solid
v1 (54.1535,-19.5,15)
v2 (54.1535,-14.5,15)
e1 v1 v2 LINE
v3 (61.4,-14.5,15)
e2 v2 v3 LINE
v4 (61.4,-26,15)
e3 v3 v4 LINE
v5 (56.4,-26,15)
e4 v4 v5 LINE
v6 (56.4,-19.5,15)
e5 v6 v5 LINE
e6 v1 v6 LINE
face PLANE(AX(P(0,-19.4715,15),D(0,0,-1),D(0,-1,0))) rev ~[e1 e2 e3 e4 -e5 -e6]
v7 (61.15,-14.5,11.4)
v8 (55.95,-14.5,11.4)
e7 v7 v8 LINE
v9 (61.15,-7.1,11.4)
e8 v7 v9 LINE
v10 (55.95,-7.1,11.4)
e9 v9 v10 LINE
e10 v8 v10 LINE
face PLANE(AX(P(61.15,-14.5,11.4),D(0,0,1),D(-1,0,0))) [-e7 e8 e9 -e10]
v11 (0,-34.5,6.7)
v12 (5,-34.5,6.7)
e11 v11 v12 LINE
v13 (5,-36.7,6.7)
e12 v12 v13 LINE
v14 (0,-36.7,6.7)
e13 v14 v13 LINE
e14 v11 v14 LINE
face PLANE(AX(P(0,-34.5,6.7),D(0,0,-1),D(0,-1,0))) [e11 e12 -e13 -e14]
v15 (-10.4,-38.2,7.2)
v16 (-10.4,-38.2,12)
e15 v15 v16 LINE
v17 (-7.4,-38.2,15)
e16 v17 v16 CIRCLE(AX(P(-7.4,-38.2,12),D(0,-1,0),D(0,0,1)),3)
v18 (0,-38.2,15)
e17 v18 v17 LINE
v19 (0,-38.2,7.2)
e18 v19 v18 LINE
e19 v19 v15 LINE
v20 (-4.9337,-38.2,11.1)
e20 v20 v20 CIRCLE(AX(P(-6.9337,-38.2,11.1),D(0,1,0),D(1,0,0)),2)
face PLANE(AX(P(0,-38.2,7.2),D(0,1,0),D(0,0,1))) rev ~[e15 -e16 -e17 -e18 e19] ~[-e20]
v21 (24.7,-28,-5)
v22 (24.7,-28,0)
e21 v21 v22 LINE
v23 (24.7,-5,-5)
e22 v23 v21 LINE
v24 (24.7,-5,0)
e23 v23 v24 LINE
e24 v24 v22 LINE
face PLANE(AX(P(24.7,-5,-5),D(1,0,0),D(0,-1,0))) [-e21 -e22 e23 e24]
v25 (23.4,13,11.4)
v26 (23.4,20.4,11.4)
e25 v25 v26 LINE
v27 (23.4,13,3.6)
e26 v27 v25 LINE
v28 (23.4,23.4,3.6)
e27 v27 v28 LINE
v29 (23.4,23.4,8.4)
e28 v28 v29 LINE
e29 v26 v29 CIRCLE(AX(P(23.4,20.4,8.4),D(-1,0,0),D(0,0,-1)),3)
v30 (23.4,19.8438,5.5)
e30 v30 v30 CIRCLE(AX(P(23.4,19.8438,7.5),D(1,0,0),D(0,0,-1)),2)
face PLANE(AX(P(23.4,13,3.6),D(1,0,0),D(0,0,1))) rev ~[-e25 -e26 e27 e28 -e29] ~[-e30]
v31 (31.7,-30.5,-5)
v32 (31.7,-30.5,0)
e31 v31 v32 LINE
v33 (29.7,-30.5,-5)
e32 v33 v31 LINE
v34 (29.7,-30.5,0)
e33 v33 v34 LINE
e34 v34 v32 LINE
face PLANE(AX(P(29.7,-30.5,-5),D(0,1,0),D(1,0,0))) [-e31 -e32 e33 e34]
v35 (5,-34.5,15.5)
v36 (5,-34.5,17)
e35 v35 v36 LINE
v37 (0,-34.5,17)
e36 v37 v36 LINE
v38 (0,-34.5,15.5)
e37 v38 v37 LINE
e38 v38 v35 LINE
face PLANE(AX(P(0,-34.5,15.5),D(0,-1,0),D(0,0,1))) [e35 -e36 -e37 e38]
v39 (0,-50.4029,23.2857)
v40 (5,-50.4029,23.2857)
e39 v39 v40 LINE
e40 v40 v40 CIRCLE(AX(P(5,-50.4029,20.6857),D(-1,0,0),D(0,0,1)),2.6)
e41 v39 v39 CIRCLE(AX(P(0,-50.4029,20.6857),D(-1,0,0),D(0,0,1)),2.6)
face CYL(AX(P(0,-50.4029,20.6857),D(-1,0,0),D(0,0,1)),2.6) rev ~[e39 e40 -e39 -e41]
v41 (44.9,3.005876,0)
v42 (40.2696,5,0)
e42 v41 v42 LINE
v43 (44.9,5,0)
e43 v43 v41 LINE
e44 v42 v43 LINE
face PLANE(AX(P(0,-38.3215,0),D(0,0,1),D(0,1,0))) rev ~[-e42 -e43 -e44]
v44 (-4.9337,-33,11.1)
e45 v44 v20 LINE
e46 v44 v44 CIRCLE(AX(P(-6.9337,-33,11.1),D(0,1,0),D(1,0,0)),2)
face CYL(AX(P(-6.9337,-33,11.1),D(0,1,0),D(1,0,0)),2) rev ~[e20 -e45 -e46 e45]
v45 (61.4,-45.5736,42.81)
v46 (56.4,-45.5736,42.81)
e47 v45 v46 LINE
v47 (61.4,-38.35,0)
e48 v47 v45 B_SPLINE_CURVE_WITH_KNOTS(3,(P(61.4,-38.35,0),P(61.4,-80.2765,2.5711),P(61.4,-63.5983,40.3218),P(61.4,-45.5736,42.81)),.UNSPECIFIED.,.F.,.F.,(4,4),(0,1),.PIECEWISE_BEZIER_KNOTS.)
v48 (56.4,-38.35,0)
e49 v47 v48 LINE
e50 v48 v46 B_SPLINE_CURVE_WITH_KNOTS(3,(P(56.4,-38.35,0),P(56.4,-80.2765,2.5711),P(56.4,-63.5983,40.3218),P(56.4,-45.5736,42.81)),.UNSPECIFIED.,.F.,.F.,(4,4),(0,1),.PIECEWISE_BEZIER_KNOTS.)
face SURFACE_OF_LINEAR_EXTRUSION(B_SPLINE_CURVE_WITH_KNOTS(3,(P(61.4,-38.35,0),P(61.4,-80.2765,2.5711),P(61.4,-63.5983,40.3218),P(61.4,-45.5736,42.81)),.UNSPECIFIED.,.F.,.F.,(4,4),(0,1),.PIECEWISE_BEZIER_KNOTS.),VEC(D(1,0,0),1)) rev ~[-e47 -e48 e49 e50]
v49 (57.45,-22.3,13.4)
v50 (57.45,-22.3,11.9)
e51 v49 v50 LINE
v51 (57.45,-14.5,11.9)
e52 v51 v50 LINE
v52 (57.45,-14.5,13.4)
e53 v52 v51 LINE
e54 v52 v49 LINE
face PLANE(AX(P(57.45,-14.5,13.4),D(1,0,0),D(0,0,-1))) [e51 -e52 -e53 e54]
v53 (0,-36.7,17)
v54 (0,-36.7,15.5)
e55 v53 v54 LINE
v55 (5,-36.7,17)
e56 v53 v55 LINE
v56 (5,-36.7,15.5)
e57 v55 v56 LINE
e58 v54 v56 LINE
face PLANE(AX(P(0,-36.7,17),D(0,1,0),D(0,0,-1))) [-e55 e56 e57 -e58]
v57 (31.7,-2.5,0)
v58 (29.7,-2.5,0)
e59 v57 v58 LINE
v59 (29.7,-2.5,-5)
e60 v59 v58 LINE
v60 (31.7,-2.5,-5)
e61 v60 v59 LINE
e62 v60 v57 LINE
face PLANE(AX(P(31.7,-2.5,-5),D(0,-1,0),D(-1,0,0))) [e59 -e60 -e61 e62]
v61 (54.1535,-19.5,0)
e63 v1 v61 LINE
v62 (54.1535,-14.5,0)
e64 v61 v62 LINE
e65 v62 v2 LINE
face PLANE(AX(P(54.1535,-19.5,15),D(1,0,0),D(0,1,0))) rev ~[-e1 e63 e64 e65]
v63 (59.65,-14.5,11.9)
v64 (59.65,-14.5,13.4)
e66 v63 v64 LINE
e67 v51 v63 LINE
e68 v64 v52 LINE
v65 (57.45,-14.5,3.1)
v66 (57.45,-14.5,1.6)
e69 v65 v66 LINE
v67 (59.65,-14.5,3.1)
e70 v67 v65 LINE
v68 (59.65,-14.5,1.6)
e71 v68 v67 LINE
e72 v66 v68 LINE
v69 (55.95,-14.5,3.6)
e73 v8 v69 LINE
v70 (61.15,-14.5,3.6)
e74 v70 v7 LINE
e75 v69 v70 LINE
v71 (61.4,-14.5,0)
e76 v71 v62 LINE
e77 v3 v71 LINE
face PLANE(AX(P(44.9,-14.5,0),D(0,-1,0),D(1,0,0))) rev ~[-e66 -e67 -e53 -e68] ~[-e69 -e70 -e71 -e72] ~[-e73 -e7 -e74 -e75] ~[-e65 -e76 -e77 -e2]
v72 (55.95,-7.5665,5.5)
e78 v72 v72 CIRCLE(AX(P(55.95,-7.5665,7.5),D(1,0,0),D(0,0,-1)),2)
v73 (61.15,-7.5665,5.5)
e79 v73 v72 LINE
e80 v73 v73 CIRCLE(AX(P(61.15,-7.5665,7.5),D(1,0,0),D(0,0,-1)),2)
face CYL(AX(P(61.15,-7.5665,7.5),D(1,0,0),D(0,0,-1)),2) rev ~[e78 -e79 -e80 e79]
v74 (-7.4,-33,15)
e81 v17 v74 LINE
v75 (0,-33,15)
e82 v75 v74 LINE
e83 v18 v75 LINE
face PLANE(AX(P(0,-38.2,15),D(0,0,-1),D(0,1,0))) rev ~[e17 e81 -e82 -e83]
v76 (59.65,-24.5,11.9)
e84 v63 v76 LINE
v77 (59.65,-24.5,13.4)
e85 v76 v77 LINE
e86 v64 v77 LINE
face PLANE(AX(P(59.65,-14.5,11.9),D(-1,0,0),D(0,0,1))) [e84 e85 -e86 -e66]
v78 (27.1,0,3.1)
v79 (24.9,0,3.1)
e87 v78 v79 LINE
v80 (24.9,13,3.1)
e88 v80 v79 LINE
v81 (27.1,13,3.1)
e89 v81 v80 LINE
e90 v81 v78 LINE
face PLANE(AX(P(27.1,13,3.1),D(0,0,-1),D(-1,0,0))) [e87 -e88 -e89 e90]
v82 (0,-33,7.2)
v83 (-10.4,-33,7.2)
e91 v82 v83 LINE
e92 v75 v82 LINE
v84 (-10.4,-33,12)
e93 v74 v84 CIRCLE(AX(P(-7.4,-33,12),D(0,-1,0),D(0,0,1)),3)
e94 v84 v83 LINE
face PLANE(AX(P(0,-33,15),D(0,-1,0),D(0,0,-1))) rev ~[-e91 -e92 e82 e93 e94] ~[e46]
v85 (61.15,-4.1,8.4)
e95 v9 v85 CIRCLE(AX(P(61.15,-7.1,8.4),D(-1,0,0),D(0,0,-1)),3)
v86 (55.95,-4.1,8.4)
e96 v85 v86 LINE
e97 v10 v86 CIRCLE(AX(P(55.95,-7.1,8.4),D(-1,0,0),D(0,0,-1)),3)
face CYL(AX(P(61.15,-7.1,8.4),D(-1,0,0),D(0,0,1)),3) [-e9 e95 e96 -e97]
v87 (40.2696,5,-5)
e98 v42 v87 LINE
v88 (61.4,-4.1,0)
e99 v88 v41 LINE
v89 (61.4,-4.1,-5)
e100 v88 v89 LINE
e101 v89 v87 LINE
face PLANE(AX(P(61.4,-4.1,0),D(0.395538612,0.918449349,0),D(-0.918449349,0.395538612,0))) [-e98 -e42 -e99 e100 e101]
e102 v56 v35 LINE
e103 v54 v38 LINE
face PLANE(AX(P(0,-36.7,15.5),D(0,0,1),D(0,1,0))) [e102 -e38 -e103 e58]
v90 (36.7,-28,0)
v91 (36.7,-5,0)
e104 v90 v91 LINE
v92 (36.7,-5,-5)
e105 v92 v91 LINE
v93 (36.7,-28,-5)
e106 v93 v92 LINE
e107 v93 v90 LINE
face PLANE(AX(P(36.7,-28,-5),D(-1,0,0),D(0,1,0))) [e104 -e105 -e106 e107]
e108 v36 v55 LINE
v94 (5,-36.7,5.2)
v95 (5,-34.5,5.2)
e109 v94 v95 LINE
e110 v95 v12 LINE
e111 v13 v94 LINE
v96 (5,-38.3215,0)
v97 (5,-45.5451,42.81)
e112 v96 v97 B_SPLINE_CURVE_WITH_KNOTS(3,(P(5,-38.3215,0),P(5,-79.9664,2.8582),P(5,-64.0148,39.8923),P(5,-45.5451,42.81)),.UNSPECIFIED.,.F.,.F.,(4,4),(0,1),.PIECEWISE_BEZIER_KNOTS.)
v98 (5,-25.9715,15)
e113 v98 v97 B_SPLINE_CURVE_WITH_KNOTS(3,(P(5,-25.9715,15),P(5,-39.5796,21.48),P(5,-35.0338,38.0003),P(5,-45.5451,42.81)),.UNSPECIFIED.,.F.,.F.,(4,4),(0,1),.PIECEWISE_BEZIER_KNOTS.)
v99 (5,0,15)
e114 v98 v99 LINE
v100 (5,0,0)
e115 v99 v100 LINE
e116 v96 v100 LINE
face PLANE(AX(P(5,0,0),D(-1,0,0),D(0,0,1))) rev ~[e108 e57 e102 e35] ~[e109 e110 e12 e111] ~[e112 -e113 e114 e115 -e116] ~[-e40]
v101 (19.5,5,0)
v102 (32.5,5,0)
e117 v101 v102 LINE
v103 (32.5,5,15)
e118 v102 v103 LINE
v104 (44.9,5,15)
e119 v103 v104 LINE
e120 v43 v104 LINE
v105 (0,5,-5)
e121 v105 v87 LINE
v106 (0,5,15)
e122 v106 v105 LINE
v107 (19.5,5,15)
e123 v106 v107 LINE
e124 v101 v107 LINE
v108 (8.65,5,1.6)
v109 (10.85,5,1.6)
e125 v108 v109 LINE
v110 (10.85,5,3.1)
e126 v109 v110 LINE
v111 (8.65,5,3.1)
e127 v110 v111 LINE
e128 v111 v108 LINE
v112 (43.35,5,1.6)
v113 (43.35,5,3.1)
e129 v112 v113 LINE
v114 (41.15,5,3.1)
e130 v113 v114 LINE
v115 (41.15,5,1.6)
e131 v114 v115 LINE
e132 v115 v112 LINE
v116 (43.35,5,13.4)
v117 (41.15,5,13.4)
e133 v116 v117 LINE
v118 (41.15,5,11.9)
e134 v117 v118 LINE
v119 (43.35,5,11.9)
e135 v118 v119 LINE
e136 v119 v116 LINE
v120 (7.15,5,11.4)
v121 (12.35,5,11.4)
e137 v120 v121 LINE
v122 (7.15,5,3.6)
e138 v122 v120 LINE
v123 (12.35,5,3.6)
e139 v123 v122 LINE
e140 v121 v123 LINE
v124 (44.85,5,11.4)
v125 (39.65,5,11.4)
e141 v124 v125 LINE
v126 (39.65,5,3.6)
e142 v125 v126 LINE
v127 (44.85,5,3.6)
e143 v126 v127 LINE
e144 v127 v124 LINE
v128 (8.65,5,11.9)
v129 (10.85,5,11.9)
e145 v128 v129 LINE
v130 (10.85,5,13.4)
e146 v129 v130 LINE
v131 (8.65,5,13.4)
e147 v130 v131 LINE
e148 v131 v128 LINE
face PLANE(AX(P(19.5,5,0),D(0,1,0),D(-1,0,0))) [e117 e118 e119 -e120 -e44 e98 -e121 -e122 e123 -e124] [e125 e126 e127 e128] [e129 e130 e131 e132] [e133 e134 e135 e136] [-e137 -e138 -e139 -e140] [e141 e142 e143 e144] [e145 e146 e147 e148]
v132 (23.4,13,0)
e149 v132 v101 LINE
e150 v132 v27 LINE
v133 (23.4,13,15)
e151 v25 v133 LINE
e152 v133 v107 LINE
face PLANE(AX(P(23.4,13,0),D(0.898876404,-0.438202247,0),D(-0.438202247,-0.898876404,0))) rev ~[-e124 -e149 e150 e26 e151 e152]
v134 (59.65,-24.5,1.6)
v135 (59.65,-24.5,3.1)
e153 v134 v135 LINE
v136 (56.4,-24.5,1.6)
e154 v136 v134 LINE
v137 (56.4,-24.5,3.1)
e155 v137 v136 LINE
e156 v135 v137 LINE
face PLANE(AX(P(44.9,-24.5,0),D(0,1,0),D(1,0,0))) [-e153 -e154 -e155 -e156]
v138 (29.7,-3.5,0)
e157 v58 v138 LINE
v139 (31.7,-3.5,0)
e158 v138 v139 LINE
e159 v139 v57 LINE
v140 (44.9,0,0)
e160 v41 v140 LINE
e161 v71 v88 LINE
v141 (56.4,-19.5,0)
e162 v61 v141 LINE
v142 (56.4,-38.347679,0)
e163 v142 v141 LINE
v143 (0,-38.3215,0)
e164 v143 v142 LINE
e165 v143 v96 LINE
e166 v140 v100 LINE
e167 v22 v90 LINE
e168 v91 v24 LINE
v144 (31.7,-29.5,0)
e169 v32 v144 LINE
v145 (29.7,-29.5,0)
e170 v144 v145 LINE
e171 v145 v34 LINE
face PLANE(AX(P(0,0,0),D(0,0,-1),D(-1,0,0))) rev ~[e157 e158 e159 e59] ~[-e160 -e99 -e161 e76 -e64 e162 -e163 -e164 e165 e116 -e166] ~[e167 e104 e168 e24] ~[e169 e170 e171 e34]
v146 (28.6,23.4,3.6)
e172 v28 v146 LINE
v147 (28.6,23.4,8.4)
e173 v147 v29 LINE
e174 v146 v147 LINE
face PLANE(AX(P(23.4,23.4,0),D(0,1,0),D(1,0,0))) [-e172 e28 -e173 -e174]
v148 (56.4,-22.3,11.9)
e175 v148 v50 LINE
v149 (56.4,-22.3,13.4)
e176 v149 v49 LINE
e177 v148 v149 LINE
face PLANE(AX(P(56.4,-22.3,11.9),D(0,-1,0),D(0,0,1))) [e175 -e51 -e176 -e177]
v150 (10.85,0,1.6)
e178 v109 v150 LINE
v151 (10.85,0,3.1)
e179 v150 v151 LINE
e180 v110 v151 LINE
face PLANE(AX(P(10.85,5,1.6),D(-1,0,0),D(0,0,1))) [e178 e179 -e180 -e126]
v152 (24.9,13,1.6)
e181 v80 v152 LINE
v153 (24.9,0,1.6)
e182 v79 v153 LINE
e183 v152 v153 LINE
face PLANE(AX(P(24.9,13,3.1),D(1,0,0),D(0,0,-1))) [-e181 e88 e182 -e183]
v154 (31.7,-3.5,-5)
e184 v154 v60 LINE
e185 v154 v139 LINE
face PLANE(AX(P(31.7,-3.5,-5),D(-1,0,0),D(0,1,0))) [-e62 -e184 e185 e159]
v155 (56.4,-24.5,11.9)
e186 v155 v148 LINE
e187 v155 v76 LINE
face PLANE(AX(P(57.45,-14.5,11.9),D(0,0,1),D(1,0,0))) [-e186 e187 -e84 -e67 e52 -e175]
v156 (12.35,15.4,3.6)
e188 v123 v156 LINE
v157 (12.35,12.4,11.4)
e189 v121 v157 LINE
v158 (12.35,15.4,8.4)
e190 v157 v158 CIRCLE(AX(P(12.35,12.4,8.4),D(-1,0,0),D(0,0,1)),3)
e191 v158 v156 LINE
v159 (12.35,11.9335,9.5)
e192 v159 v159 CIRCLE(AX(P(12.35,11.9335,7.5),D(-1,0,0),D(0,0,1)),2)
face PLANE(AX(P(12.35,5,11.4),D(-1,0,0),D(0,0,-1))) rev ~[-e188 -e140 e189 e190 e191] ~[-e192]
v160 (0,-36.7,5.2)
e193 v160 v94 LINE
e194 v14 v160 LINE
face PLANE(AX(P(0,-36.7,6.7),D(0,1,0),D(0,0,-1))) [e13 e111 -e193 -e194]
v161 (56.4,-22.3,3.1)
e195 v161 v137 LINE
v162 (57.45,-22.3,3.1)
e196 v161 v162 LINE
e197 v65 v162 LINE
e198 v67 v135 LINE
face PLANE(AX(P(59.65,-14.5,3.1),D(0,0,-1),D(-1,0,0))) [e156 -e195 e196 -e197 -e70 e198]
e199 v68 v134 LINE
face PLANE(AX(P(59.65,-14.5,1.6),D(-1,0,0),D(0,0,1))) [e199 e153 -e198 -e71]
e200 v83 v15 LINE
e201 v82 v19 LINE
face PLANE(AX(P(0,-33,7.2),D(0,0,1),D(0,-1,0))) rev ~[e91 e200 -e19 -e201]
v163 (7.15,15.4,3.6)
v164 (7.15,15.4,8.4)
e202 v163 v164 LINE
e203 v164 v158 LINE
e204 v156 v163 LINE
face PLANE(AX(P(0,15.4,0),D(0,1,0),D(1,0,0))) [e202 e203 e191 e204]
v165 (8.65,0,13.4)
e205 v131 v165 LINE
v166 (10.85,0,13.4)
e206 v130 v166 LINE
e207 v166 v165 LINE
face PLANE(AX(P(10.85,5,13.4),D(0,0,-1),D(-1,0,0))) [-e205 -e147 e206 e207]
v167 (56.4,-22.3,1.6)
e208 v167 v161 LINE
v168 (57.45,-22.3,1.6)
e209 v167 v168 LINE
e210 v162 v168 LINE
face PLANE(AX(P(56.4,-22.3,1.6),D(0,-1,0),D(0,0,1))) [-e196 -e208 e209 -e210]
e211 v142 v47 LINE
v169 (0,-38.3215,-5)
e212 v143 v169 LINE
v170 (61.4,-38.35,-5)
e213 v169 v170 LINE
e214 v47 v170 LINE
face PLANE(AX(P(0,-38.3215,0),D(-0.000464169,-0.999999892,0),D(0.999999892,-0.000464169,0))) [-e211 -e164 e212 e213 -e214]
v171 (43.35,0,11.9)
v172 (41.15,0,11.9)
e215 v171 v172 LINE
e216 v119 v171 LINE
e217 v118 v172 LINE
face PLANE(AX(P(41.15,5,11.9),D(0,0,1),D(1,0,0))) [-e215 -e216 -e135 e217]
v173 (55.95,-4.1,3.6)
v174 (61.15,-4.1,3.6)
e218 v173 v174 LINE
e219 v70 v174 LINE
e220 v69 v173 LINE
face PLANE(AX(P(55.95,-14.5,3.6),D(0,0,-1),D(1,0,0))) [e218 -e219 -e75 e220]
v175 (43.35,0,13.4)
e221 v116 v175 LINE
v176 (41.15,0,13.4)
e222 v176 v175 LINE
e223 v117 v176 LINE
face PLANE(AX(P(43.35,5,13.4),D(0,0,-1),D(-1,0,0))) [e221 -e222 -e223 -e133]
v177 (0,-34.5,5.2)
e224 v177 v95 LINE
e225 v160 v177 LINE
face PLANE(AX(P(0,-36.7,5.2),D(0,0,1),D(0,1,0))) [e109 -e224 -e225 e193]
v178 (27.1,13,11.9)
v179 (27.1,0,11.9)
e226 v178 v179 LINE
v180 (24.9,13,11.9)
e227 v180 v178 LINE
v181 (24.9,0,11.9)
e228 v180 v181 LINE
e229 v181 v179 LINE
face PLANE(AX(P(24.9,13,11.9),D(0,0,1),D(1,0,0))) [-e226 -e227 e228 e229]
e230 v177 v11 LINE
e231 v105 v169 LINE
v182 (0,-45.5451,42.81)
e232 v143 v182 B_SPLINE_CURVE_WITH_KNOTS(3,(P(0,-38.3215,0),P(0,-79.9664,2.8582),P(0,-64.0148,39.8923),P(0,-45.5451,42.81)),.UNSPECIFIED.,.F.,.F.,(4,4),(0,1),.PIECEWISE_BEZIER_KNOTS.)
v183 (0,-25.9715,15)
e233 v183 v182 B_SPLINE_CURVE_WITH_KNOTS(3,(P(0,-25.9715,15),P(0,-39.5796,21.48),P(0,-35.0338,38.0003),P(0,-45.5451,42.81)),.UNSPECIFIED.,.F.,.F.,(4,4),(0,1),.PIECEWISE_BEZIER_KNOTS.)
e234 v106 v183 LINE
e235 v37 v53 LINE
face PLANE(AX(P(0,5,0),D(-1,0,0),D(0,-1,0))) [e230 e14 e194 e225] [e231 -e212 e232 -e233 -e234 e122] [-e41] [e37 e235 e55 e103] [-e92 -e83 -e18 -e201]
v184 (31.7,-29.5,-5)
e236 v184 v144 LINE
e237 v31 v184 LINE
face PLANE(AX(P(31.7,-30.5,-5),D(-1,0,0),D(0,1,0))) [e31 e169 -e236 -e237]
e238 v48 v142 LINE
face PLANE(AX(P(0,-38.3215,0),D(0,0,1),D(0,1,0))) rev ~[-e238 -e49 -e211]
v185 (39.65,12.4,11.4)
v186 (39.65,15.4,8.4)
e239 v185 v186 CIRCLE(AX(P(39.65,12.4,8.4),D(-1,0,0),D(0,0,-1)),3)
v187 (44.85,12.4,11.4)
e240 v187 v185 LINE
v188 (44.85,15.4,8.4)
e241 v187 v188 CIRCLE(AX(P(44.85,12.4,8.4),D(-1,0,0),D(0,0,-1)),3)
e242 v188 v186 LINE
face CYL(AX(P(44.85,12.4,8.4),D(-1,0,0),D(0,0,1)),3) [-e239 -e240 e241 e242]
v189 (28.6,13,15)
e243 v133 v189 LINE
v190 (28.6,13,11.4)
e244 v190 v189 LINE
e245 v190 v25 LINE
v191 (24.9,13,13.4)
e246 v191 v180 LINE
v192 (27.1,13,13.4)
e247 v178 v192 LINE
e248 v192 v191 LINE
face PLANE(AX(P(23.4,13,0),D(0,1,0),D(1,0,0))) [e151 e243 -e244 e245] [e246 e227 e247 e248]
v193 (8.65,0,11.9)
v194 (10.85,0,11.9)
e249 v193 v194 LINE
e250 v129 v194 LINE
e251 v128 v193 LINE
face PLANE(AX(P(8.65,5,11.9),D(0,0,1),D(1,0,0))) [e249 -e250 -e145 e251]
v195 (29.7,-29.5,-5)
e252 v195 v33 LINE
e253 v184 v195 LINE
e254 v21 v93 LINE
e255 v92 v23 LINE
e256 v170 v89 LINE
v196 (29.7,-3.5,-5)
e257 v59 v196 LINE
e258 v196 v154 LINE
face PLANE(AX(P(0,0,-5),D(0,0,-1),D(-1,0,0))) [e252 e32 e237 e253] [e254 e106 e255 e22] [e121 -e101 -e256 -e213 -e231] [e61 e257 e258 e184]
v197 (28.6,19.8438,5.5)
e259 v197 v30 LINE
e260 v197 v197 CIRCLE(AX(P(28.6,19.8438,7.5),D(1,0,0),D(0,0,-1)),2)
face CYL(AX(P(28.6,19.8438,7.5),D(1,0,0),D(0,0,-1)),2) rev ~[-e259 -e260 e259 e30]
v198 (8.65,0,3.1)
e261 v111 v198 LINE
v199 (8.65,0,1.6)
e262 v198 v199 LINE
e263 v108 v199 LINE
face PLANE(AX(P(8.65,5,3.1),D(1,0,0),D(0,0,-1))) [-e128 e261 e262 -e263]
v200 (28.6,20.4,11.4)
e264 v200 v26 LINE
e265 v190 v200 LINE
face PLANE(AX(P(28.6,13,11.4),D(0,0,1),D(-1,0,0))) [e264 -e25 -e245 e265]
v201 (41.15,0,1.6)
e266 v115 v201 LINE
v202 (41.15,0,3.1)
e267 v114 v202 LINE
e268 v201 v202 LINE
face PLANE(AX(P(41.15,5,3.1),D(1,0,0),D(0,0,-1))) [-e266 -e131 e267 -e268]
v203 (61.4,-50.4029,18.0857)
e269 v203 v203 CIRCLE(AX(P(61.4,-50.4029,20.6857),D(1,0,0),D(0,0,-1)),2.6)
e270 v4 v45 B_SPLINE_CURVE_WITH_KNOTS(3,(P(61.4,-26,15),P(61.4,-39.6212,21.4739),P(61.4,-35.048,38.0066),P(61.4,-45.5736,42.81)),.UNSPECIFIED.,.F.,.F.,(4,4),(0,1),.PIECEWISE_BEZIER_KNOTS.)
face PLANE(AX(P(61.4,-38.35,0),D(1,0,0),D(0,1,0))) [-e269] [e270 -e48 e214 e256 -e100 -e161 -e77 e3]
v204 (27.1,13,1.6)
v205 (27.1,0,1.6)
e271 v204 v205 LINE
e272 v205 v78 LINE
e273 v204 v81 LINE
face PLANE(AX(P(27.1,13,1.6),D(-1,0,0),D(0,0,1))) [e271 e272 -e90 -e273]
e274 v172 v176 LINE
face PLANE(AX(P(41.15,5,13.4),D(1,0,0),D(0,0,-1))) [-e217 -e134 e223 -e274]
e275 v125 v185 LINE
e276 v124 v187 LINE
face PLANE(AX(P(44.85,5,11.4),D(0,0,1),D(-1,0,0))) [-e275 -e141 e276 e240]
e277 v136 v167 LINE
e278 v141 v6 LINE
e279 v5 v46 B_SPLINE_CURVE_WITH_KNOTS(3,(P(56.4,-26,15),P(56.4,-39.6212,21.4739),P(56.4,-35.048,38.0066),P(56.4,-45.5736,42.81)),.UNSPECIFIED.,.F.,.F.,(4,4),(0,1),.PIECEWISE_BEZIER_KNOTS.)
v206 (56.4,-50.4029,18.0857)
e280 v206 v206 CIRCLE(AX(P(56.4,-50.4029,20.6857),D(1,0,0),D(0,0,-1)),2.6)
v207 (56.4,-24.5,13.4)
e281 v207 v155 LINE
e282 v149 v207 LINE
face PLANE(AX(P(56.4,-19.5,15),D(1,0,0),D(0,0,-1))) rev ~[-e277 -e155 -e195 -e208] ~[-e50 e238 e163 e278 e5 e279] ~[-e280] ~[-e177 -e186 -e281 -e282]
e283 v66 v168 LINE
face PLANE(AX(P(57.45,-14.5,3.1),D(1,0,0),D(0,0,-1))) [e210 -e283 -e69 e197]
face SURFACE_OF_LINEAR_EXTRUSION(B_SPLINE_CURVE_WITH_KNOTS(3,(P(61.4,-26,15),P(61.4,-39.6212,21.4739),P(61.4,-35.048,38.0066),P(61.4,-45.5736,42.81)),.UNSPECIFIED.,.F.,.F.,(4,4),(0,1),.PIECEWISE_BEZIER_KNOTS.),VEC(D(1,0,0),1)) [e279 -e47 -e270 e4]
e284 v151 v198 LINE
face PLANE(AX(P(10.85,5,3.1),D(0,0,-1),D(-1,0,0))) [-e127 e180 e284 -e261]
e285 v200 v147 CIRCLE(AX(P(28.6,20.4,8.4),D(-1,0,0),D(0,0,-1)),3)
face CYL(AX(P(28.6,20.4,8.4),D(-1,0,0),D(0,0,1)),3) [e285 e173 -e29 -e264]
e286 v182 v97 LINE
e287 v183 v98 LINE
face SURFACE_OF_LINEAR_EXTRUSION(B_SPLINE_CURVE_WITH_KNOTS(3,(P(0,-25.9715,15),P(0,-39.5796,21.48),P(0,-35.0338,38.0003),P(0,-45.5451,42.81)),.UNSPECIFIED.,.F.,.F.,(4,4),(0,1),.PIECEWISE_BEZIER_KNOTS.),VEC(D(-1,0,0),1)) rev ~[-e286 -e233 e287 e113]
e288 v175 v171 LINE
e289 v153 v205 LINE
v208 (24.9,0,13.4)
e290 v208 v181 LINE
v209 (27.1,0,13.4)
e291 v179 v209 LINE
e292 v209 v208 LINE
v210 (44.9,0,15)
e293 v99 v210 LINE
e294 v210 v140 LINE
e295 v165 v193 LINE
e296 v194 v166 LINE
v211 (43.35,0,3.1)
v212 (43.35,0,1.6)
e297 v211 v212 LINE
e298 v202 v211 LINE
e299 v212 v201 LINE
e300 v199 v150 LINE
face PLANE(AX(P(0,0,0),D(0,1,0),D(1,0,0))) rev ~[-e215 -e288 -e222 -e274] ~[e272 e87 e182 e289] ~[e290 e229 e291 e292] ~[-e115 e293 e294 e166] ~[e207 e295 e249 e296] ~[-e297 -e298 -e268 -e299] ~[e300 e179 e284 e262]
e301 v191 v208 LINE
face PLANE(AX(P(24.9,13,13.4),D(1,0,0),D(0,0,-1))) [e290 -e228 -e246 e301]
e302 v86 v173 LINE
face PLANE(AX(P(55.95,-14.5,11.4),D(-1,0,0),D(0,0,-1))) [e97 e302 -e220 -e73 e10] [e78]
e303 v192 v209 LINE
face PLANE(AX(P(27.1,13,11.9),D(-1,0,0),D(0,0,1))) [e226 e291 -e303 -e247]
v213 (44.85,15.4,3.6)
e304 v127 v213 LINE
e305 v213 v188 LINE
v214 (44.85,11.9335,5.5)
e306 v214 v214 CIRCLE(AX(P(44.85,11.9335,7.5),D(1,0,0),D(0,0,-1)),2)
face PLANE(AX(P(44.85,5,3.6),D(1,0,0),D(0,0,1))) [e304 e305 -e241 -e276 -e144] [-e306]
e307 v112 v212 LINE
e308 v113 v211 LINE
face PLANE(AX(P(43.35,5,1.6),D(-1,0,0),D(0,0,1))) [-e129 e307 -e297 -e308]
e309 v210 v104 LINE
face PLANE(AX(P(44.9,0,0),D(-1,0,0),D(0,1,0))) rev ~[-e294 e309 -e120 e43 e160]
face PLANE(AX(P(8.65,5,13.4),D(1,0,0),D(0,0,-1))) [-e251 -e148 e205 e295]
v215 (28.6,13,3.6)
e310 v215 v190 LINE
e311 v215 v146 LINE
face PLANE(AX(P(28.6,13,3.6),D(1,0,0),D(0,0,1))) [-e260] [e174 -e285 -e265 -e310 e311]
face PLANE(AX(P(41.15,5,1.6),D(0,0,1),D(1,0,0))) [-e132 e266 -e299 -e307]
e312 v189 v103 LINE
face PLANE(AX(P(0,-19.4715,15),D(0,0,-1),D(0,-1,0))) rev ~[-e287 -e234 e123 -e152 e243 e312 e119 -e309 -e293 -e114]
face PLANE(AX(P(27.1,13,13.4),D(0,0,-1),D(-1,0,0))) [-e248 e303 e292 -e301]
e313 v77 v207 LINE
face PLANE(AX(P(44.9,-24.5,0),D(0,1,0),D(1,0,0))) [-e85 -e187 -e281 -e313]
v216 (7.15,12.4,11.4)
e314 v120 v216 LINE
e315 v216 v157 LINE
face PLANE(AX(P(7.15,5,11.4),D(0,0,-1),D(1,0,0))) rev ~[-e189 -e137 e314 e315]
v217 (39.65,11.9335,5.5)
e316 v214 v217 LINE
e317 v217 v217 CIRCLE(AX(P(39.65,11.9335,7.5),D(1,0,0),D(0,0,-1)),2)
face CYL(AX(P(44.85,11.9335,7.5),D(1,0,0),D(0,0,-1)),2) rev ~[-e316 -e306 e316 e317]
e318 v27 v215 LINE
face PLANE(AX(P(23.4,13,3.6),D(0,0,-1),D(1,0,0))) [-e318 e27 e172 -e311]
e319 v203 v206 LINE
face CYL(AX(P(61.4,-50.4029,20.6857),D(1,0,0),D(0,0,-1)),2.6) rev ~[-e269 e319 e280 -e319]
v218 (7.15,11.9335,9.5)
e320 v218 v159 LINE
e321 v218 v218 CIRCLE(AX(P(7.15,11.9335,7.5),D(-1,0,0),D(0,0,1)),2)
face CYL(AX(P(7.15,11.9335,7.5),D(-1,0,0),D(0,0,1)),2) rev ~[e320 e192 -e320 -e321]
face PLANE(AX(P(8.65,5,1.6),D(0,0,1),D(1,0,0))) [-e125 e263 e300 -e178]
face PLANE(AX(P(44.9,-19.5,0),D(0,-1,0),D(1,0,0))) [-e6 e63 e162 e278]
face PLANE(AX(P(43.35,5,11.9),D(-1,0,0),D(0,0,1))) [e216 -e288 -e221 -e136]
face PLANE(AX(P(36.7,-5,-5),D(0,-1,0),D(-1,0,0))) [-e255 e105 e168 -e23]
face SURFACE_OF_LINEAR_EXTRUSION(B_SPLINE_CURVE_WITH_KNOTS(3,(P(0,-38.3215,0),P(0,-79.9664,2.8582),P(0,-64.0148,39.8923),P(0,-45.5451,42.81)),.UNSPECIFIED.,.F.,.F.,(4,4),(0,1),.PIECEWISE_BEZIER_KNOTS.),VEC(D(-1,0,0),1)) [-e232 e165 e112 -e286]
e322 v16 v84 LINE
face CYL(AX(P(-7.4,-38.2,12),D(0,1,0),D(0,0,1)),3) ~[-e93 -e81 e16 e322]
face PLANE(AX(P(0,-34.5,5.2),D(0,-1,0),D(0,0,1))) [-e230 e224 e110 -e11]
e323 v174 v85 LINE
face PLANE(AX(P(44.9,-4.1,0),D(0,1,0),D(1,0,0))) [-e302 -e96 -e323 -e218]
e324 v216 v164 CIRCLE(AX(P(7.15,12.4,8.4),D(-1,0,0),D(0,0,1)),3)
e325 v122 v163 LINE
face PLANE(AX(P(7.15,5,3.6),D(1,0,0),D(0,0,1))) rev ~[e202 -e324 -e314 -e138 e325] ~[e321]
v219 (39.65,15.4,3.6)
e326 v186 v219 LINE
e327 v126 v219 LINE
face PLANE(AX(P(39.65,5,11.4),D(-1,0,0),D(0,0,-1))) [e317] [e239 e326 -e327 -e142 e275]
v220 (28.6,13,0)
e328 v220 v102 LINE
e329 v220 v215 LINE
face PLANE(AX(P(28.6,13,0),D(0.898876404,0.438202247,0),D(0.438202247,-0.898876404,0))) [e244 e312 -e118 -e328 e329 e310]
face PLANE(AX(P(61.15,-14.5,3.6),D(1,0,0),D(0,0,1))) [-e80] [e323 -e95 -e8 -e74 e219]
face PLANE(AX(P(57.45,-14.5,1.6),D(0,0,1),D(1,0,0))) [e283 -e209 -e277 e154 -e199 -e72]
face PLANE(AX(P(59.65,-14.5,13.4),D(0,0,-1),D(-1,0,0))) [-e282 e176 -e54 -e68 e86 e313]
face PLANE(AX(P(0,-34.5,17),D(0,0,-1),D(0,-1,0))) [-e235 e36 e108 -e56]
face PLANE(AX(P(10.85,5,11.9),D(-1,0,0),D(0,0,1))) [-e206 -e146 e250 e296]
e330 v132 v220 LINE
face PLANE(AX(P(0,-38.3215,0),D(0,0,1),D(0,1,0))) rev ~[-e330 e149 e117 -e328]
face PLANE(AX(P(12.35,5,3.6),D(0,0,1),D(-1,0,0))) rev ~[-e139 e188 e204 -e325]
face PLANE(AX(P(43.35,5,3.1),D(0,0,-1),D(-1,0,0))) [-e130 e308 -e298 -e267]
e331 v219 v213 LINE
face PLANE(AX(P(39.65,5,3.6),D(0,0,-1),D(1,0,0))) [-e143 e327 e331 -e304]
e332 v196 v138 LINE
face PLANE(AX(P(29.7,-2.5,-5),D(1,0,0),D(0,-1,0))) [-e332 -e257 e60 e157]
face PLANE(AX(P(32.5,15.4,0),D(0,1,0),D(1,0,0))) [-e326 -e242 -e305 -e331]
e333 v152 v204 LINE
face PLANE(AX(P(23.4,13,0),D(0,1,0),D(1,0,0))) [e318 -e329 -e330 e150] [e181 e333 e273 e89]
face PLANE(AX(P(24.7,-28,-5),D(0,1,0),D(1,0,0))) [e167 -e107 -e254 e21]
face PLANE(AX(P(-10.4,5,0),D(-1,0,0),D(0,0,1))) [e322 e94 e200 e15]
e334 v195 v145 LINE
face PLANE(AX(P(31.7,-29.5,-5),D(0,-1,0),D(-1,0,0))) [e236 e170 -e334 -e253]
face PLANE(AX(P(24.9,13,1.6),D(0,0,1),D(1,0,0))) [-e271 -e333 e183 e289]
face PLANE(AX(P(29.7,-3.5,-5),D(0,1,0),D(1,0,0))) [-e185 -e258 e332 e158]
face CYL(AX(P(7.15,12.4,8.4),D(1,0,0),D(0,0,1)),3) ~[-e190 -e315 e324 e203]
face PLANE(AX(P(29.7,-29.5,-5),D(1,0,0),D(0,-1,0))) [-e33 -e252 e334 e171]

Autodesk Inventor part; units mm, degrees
ref_plane "YZ Plane" through (0, 0, 0) normal (1, 0, 0) x (0, 1, 0)
ref_plane "XZ Plane" through (0, 0, 0) normal (0, 1, 0) x (-1, 0, 0)
ref_plane "XY Plane" through (0, 0, 0) normal (0, 0, 1) x (1, 0, 0)
sketch "Esquisse1" plane through (0, 0, 0) normal (0, 0, 1) x (1, 0, 0)
  line L0 (0, 0) -> (44.9, 0)
  line L1 (44.9, 0) -> (44.9, 5)
  line L2 (0, 5) -> (0, 0)
  line L3 (23.4, 13) -> (28.6, 13)
  line L4 (28.6, 13) -> (32.5, 5)
  line L5 (23.4, 13) -> (19.5, 5)
  line L6 (0, 5) -> (19.5, 5)
  line L7 (32.5, 5) -> (44.9, 5)
  line L8 (28.6, 13) -> (28.6, 5) construction
  line L9 (28.6, 5) -> (32.5, 5) construction
  line L10 (23.4, 13) -> (23.4, 5) construction
  line L11 (23.4, 5) -> (19.5, 5) construction
  dimension "d0" = 5
  dimension "d1" = 44.9
  dimension "d2" = 13
  dimension "d3" = 13
  dimension "d5" = 5.2
  dimension "d146" = 3.9
  dimension "d147" = 3.9
  dimension "d148" = 12.4
extrude "Extrusion1" add sketch "Esquisse1" along normal blind 15
sketch "Esquisse2" plane through (44.9, 0, 0) normal (1, 0, 0) x (0, 0, -1)
  line L0 (0, 0) -> (-15, 0) projected
  line L1 (0, 0) -> (-15, 0)
  line L2 (-15, 0) -> (-15, -19.5)
  line L3 (-15, -19.5) -> (0, -19.5)
  line L4 (0, -19.5) -> (0, 0)
  point P0 (-15, 5)
  dimension "d11" = 19.5
  dimension "d18" = 15
extrude "Extrusion2" add sketch "Esquisse2" against normal blind 5
sketch "Esquisse3" plane through (44.9, -19.5, 0) normal (0, -1, 0) x (1, 0, 0)
  line L0 (0, 0) -> (0, 15) projected
  line L1 (0, 15) -> (16.5, 15)
  line L2 (16.5, 15) -> (16.5, 0)
  line L3 (16.5, 0) -> (0, 0)
  line L4 (0, 0) -> (0, 15)
  point P0 (-44.9, 0)
  dimension "d14" = 16.5
  dimension "d19" = 15
extrude "Extrusion3" add sketch "Esquisse3" against normal blind 5
sketch "Esquisse5" plane through (61.4, -19.5, 15) normal (1, 0, 0) x (0, 0, -1)
  line L0 (0, 0) -> (0, 19.5) projected
  spline S0 degree 3 poles (15, -18.85) (12.4289, -60.7765) (-25.3218, -44.0983) (-27.81, -26.0736) knots 0 0 0 0 1 1 1 1
  line L1 (0, 0) -> (-12.0102, 0) construction
  spline S1 degree 3 poles (0, -6.5) (-6.4739, -20.1212) (-23.0066, -15.548) (-27.81, -26.0736) knots 0 0 0 0 1 1 1 1
  line L2 (15, 0) -> (0, 0)
  line L3 (15, 19.5) -> (15, 0) projected
  line L4 (15, -18.85) -> (15, 0)
  line L5 (15, 0) -> (0, 0) projected
  line L6 (15, 0) -> (0, 0)
  line L7 (0, 0) -> (0, -6.5)
  line L8 (0, -26) -> (-10, -26) construction
  circle A0 centre (-5, -26) radius 5 construction
  point P0 (-0.0048, -44.59)
  point P1 (-18.0068, -40.3478)
  point P2 (-9.9873, -15.735)
  point P3 (-20.8554, -19.7545)
  dimension "d21" = 6.5
  dimension "d24" = 10
  dimension "d26" = 26
  dimension "d27" = 26
  dimension "d28" = 44.59
  dimension "d31" = 17.81
  dimension "d32" = 10
extrude "Extrusion4" add sketch "Esquisse5" against normal blind 5
sketch "Esquisse6" plane through (61.4, -14.5, 15) normal (1, 0, 0) x (0, 0, -1)
  circle A0 centre (-5.6857, -35.9029) radius 2.6
  point P0 (15, 14.5)
  point P1 (0, 0)
  dimension "d213" = 5.2
extrude "Extrusion5" cut sketch "Esquisse6" against normal blind 5
sketch "Esquisse7" plane through (0, 0, 0) normal (-1, 0, 0) x (0, 0, 1)
  line L0 (15, -19.4715) -> (15, 0)
  spline S0 degree 3 poles (0, -38.3215) (2.8582, -79.9664) (39.8923, -64.0148) (42.81, -45.5451) knots 0 0 0 0 1 1 1 1
  line L1 (15, -19.4715) -> (27.0102, -19.4715) construction
  spline S1 degree 3 poles (15, -25.9715) (21.48, -39.5796) (38.0003, -35.0338) (42.81, -45.5451) knots 0 0 0 0 1 1 1 1
  line L2 (0, 0) -> (0, -19.4715)
  line L3 (0, -38.3215) -> (0, -19.4715)
  line L4 (15, -19.4715) -> (15, -25.9715)
  line L5 (15, -45.4715) -> (25, -45.4715) construction
  circle A0 centre (20, -45.4715) radius 5 construction
  line L6 (15, 0) -> (0, 0)
  line L7 (0, 0) -> (15, 0) projected
  line L8 (15, -19.5) -> (15, 0) projected
  line L9 (0, 0) -> (0, -19.5) projected
  line L10 (0, -19.5) -> (15, -19.5) construction
  line L11 (15, -19.5) -> (15, -70.8185) construction
  point P0 (15, -26)
  point P1 (15, -64.0615)
  point P2 (32.7077, -60.0762)
  point P3 (24.9887, -35.2044)
  point P4 (35.8544, -39.2301)
  point P5 (42.81, -45.5736)
  dimension "d62" = 0
  dimension "d63" = 0
  dimension "d64" = 0
  dimension "d66" = 17.81
  dimension "d67" = 44.59
  dimension "d68" = 0
  dimension "d69" = 10
  dimension "d70" = 5
  dimension "d71" = 0
extrude "Extrusion6" add sketch "Esquisse7" against normal blind 5
sketch "Esquisse9" plane through (0, 5, 0) normal (-1, 0, 0) x (0, 0, 1)
  line L0 (0, 0) -> (15, 0) construction
  line L1 (15, 0) -> (15, -38) construction
  line L2 (15, -38) -> (7.2, -38)
  line L3 (7.2, -38) -> (7.2, -43.2)
  line L4 (7.2, -43.2) -> (15, -43.2)
  line L5 (15, -43.2) -> (15, -38)
  point P0 (0, -5)
  dimension "d76" = 38
  dimension "d78" = 7.8
  dimension "d79" = 5.2
extrude "Extrusion8" add sketch "Esquisse9" along normal blind 10.4
sketch "Esquisse10" plane through (0, -33, 15) normal (0, 1, 0) x (1, 0, 0)
  circle A0 centre (-6.9337, 3.9) radius 2
  arc A1 (-10.4, 3) -> (-7.4, 0) centre (-7.4, 3) ccw construction
  line L0 (-10.4, 3) -> (-10.4, 10.1049) construction
  line L1 (-10.4, 10.1049) -> (-10.4, -0.5302) construction
  line L2 (0, 0) -> (-10.4, 0) construction
  line L3 (0, 7.8) -> (0, 0) construction
  line L4 (0, 7.8) -> (-10.4, 7.8) construction
  line L5 (-3.4673, 0) -> (-3.4673, 7.8) construction
  line L6 (-10.4, 0) -> (-3.4673, 7.8) construction
  line L7 (-3.4673, 0) -> (-10.4, 7.8) construction
  point P0 (0, 15)
  dimension "d84" = 4
  dimension "d111" = 3.4674
extrude "Extrusion9" cut sketch "Esquisse10" against normal blind 5.2
sketch "Esquisse11" plane through (0, 5, 0) normal (-1, 0, 0) x (0, 0, 1)
  line L0 (11.1472, -39.2716) -> (11.1472, -43.1725)
  line L1 (7.2, -38) -> (15, -38) projected
  line L2 (14.1279, -41.7) -> (14.1279, -39.5)
  line L3 (15, -38) -> (15, -43.2) projected
  line L4 (17, -41.7) -> (15.5, -41.7)
  line L5 (15.5, -41.7) -> (15.5, -39.5)
  line L6 (15.5, -39.5) -> (17, -39.5)
  line L7 (17, -39.5) -> (17, -41.7)
  line L8 (6.7, -41.7) -> (5.2, -41.7)
  line L9 (5.2, -41.7) -> (5.2, -39.5)
  line L10 (5.2, -39.5) -> (6.7, -39.5)
  line L11 (6.7, -39.5) -> (6.7, -41.7)
  line L12 (7.2, -43.2) -> (7.2, -38) projected
  point P0 (0, -5)
  dimension "d93" = 0.5
  dimension "d94" = 1.5
  dimension "d95" = 1.5
  dimension "d96" = 2.2
  dimension "d97" = 2.2
  dimension "d98" = 1.5
  dimension "d99" = 0.5
  dimension "d100" = 1.5
extrude "Extrusion11" cut sketch "Esquisse11" against normal blind 5
sketch "Esquisse12" plane through (0, 5, 0) normal (0, 1, 0) x (1, 0, 0)
  line L0 (7.15, -11.4) -> (12.35, -11.4)
  line L1 (12.35, -11.4) -> (12.35, -3.6)
  line L2 (12.35, -3.6) -> (7.15, -3.6)
  line L3 (7.15, -3.6) -> (7.15, -11.4)
  line L4 (19.5, 0) -> (0, 0) projected
  line L5 (0, 0) -> (0, -15) projected
  dimension "d103" = 7.8
  dimension "d104" = 5.2
  dimension "d105" = 3.6
  dimension "d106" = 7.15
extrude "Extrusion12" add sketch "Esquisse12" along normal blind 10.4
fillet "Congé2" radius 3 1 edges at (9.75, 15.4, 11.4)
fillet "Congé3" radius 3 1 edges at (-10.4, -35.6, 15)
sketch "Esquisse13" plane through (7.15, 5, 3.6) normal (-1, 0, 0) x (0, 0, 1)
  line L0 (7.8, 0) -> (7.8, 7.4) construction
  line L1 (7.8, 0) -> (7.8, 11.1767) construction
  line L2 (7.8, 0) -> (0, 0) construction
  line L3 (0, 0) -> (0, 11.2768) construction
  line L4 (0, 0) -> (0, 10.4) construction
  line L5 (0, 10.4) -> (7.8, 10.4) construction
  line L6 (7.8, 3.467) -> (0, 3.467) construction
  line L7 (0, 3.467) -> (7.8, 10.4) construction
  line L8 (7.8, 3.467) -> (0, 10.4) construction
  circle A0 centre (3.9, 6.9335) radius 2
  point P0 (-3.6, -5)
  dimension "d113" = 3.467
  dimension "d114" = 4
extrude "Extrusion13" cut sketch "Esquisse13" against normal blind 5.2
sketch "Esquisse16" plane through (0, 5, 0) normal (0, 1, 0) x (1, 0, 0)
  line L0 (10.85, -13.4) -> (8.65, -13.4)
  line L1 (8.65, -13.4) -> (8.65, -11.9)
  line L2 (8.65, -11.9) -> (10.85, -11.9)
  line L3 (10.85, -11.9) -> (10.85, -13.4)
  line L4 (10.85, -3.1) -> (8.65, -3.1)
  line L5 (8.65, -3.1) -> (8.65, -1.6)
  line L6 (8.65, -1.6) -> (10.85, -1.6)
  line L7 (10.85, -1.6) -> (10.85, -3.1)
  line L8 (12.35, -11.4) -> (7.15, -11.4) projected
  line L9 (7.15, -11.4) -> (7.15, -3.6) projected
  line L10 (7.15, -3.6) -> (12.35, -3.6) projected
  point P0 (0, 0)
  dimension "d117" = 2.2
  dimension "d118" = 2.2
  dimension "d119" = 1.5
  dimension "d120" = 1.5
  dimension "d121" = 0.5
  dimension "d122" = 1.5
  dimension "d123" = 0.5
extrude "Extrusion14" cut sketch "Esquisse16" against normal blind 5
sketch "Esquisse18" plane through (23.4, 13, 0) normal (0, 1, 0) x (1, 0, 0)
  line L0 (5.2, 0) -> (5.2, -15) construction
  line L1 (5.2, 0) -> (0, 0) construction
  line L2 (5.2, 0) -> (0, 0) construction
  line L3 (5.2, -15) -> (0, -15) construction
  line L4 (0, 0) -> (0, -15) construction
  line L5 (0, -15) -> (5.2, -15) construction
  line L6 (0, 0) -> (0, -15) projected
  line L7 (5.2, -11.4) -> (0, -11.4)
  line L8 (0, -11.4) -> (0, -3.6)
  line L9 (0, -3.6) -> (5.2, -3.6)
  line L10 (5.2, -3.6) -> (5.2, -11.4)
  point P0 (-23.4, 0)
  dimension "d126" = 7.8
  dimension "d128" = 3.6
extrude "Extrusion15" add sketch "Esquisse18" along normal blind 10.4
fillet "Congé4" radius 3 1 edges at (26, 23.4, 11.4)
sketch "Esquisse19" plane through (23.4, 13, 15) normal (0, 1, 0) x (1, 0, 0)
  line L0 (3.7, 1.6) -> (1.5, 1.6)
  line L1 (1.5, 1.6) -> (1.5, 3.1)
  line L2 (1.5, 3.1) -> (3.7, 3.1)
  line L3 (3.7, 3.1) -> (3.7, 1.6)
  line L4 (3.7, 11.9) -> (1.5, 11.9)
  line L5 (1.5, 11.9) -> (1.5, 13.4)
  line L6 (1.5, 13.4) -> (3.7, 13.4)
  line L7 (3.7, 13.4) -> (3.7, 11.9)
  line L8 (5.2, 3.6) -> (0, 3.6) projected
  line L9 (0, 11.4) -> (5.2, 11.4) projected
  line L10 (0, 11.4) -> (0, 3.6) projected
  point P0 (-23.4, 15)
  dimension "d132" = 1.5
  dimension "d133" = 2.2
  dimension "d134" = 1.5
  dimension "d135" = 0.5
  dimension "d136" = 0.5
  dimension "d137" = 1.5
extrude "Extrusion16" cut sketch "Esquisse19" against normal blind 20
sketch "Esquisse20" plane through (28.6, 13, 3.6) normal (1, 0, 0) x (0, 0, -1)
  line L0 (0, 0) -> (0, 10.4) construction
  line L1 (0, 0) -> (0, 10.4) construction
  line L2 (0, 10.4) -> (-8.133, 10.213) construction
  line L3 (0, 0) -> (-7.8, 0) construction
  line L4 (-7.8, 0) -> (0, 0) construction
  line L5 (-7.8, 0) -> (-7.8, 10.2207) construction
  line L6 (-7.8, 3.467) -> (0, 3.467) construction
  line L7 (-7.8, 3.467) -> (0, 10.4) construction
  line L8 (0, 3.467) -> (-7.8, 10.2207) construction
  circle A0 centre (-3.9, 6.8438) radius 2
  point P0 (3.6, -13)
  dimension "d140" = 3.467
  dimension "d141" = 4
extrude "Extrusion17" cut sketch "Esquisse20" against normal blind 5.2
sketch "Esquisse21" plane through (32.5, 5, 0) normal (0, 1, 0) x (1, 0, 0)
  line L0 (12.35, -11.4) -> (7.15, -11.4)
  line L1 (7.15, -11.4) -> (7.15, -3.6)
  line L2 (7.15, -3.6) -> (12.35, -3.6)
  line L3 (12.35, -3.6) -> (12.35, -11.4)
  line L4 (0, 0) -> (0, -15) projected
  line L5 (12.4, 0) -> (0, 0) projected
  point P0 (-32.5, 0)
  dimension "d144" = 5.2
  dimension "d145" = 7.8
  dimension "d149" = 7.15
  dimension "d150" = 3.6
extrude "Extrusion18" add sketch "Esquisse21" along normal blind 10.4
fillet "Congé5" radius 3 1 edges at (42.25, 15.4, 11.4)
sketch "Esquisse22" plane through (44.85, 5, 11.4) normal (1, 0, 0) x (0, 0, -1)
  line L0 (0, 0) -> (7.8, 0) construction
  line L1 (7.8, 0) -> (7.8, 10.4) construction
  line L2 (7.8, 0) -> (7.8, 10.4) construction
  line L3 (7.8, 10.4) -> (0, 10.4) construction
  line L4 (0, 0) -> (0, 7.4) construction
  line L5 (0, 10.4) -> (0, 0) construction
  line L6 (0, 3.467) -> (7.8, 3.467) construction
  line L7 (3, 10.4) -> (7.8, 10.4) construction
  line L8 (0, 3.467) -> (7.8, 10.4) construction
  line L9 (0, 10.4) -> (7.8, 3.467) construction
  circle A0 centre (3.9, 6.9335) radius 2
  point P0 (11.4, -5)
  dimension "d154" = 3.467
  dimension "d155" = 4
extrude "Extrusion19" cut sketch "Esquisse22" against normal blind 5.2
sketch "Esquisse23" plane through (32.5, 5, 0) normal (0, 1, 0) x (1, 0, 0)
  line L0 (10.85, -13.4) -> (8.65, -13.4)
  line L1 (8.65, -13.4) -> (8.65, -11.9)
  line L2 (8.65, -11.9) -> (10.85, -11.9)
  line L3 (10.85, -11.9) -> (10.85, -13.4)
  line L4 (10.85, -3.1) -> (8.65, -3.1)
  line L5 (8.65, -3.1) -> (8.65, -1.6)
  line L6 (8.65, -1.6) -> (10.85, -1.6)
  line L7 (10.85, -1.6) -> (10.85, -3.1)
  line L8 (12.35, -11.4) -> (7.15, -11.4) projected
  line L9 (7.15, -11.4) -> (7.15, -3.6) projected
  line L10 (7.15, -3.6) -> (12.35, -3.6) projected
  point P0 (-32.5, 0)
  dimension "d158" = 2.2
  dimension "d159" = 1.5
  dimension "d160" = 0.5
  dimension "d161" = 1.5
  dimension "d162" = 1.5
  dimension "d163" = 0.5
extrude "Extrusion20" cut sketch "Esquisse23" against normal blind 24.5
sketch "Esquisse24" plane through (44.9, -14.5, 0) normal (0, 1, 0) x (1, 0, 0)
  line L0 (16.25, -11.4) -> (11.05, -11.4)
  line L1 (11.05, -11.4) -> (11.05, -3.6)
  line L2 (11.05, -3.6) -> (16.25, -3.6)
  line L3 (16.25, -3.6) -> (16.25, -11.4)
  line L4 (0, 0) -> (0, -15) projected
  line L5 (16.5, 0) -> (0, 0) projected
  point P0 (-44.9, 0)
  dimension "d166" = 7.8
  dimension "d167" = 5.2
  dimension "d168" = 11.05
  dimension "d169" = 3.6
extrude "Extrusion21" add sketch "Esquisse24" along normal blind 10.4
fillet "Congé6" radius 3 1 edges at (58.55, -4.1, 11.4)
sketch "Esquisse25" plane through (61.15, -14.5, 11.4) normal (1, 0, 0) x (0, 0, -1)
  line L0 (7.8, 0) -> (7.8, 10.4) construction
  line L1 (0, 0) -> (7.8, 0) construction
  line L2 (7.8, 0) -> (7.8, 10.4) construction
  line L3 (7.8, 10.4) -> (0, 10.4) construction
  line L4 (0, 0) -> (0, 7.4) construction
  line L5 (0, 10.4) -> (0, 0) construction
  line L6 (0, 3.467) -> (7.8, 3.467) construction
  line L7 (7.8, 0) -> (7.8, 10.4) construction
  line L8 (0, 0) -> (7.8, 0) construction
  line L9 (0, 3.467) -> (7.8, 10.4) construction
  line L10 (0, 10.4) -> (7.8, 3.467) construction
  circle A0 centre (3.9, 6.9335) radius 2
  point P0 (11.4, 14.5)
  dimension "d173" = 3.467
  dimension "d174" = 4
extrude "Extrusion22" cut sketch "Esquisse25" against normal blind 5.2
sketch "Esquisse26" plane through (44.9, -14.5, 0) normal (0, 1, 0) x (1, 0, 0)
  line L0 (14.75, -3.1) -> (12.55, -3.1)
  line L1 (12.55, -3.1) -> (12.55, -1.6)
  line L2 (12.55, -1.6) -> (14.75, -1.6)
  line L3 (14.75, -1.6) -> (14.75, -3.1)
  line L4 (14.75, -13.4) -> (12.55, -13.4)
  line L5 (12.55, -13.4) -> (12.55, -11.9)
  line L6 (12.55, -11.9) -> (14.75, -11.9)
  line L7 (14.75, -11.9) -> (14.75, -13.4)
  line L8 (16.25, -11.4) -> (11.05, -11.4) projected
  line L9 (11.05, -11.4) -> (11.05, -3.6) projected
  line L10 (11.05, -3.6) -> (16.25, -3.6) projected
  point P0 (-44.9, 0)
  dimension "d177" = 2.2
  dimension "d178" = 2.2
  dimension "d179" = 0.5
  dimension "d180" = 1.5
  dimension "d181" = 1.5
  dimension "d182" = 0.5
  dimension "d183" = 1.5
extrude "Extrusion23" cut sketch "Esquisse26" against normal blind 10
sketch "Esquisse27" plane through (56.4, -19.5, 15) normal (-1, 0, 0) x (0, 0, 1)
  line L0 (-1.6, -5) -> (-3.1, -5)
  line L1 (-3.1, -5) -> (-3.1, -2.8)
  line L2 (-3.1, -2.8) -> (-1.6, -2.8)
  line L3 (-1.6, -2.8) -> (-1.6, -5)
  line L4 (-11.9, -5) -> (-13.4, -5)
  line L5 (-13.4, -5) -> (-13.4, -2.8)
  line L6 (-13.4, -2.8) -> (-11.9, -2.8)
  line L7 (-11.9, -2.8) -> (-11.9, -5)
  line L8 (-15, 0) -> (0, 0) projected
  line L9 (-15, 0) -> (-15, -18.85) projected
  point P0 (-15, 19.5)
  dimension "d186" = 2.2
  dimension "d187" = 1.5
  dimension "d188" = 2.8
  dimension "d189" = 8.8
  dimension "d190" = 1.5
  dimension "d191" = 1.6
extrude "Extrusion24" cut sketch "Esquisse27" against normal blind 3
sketch "Esquisse29" plane through (0, 0, 0) normal (0, 0, -1) x (-1, 0, 0)
  line L0 (0, -38.3215) -> (-5, -38.3215) projected
  line L1 (-61.4, -38.35) -> (-56.4, -38.35) projected
  line L2 (0, -38.3215) -> (-61.4, -38.35)
  line L3 (-61.4, -38.35) -> (-61.4, -4.1)
  line L4 (-61.4, -4.1) -> (-40.2696, 5)
  line L5 (-19.5, 5) -> (0, 5) projected
  line L6 (0, 5) -> (-40.2696, 5)
  line L7 (0, 5) -> (0, -38.3215) projected
  line L8 (0, -38.3215) -> (0, 5)
  point P0 (0, 0)
extrude "Extrusion25" add sketch "Esquisse29" along normal blind 5
sketch "Esquisse30" plane through (0, 0, 15) normal (0, 0, 1) x (1, 0, 0)
  line L0 (39.9, -19.5) -> (56.4, -19.5) projected
  line L1 (54.1535, -19.5) -> (54.1535, 0)
  line L2 (5, 0) -> (39.9, 0) projected
  line L3 (54.1535, 0) -> (39.9, 0)
  line L4 (39.9, -19.5) -> (39.9, 0) projected
  line L5 (39.9, 0) -> (39.9, -19.5)
  line L6 (39.9, -19.5) -> (54.1535, -19.5)
  point P0 (0, 0)
extrude "Extrusion26" cut sketch "Esquisse30" against normal blind 15
sketch "Esquisse31" plane through (0, 0, -5) normal (0, 0, -1) x (-1, 0, 0)
  line L0 (-61.4, -4.1) -> (-61.4, -38.35) construction
  line L1 (0, -38.2) -> (10.4, -38.2) construction
  line L2 (-61.4, -38.35) -> (0, -38.2) construction
  line L3 (0, 5) -> (0, -25.9715) construction
  line L4 (0, -38.2) -> (0, 5) construction
  line L5 (0, 5) -> (-61.4, 5) construction
  line L6 (-61.4, 5) -> (-61.4, -38.35) construction
  line L7 (-36.7, -5) -> (-24.7, -5)
  line L8 (-24.7, -5) -> (-24.7, -28)
  line L9 (-24.7, -28) -> (-36.7, -28)
  line L10 (-36.7, -28) -> (-36.7, -5)
  line L11 (-31.7, -2.5) -> (-29.7, -2.5)
  line L12 (-29.7, -2.5) -> (-29.7, -3.5)
  line L13 (-29.7, -3.5) -> (-31.7, -3.5)
  line L14 (-31.7, -3.5) -> (-31.7, -2.5)
  line L15 (-31.7, -29.5) -> (-29.7, -29.5)
  line L16 (-29.7, -29.5) -> (-29.7, -30.5)
  line L17 (-29.7, -30.5) -> (-31.7, -30.5)
  line L18 (-31.7, -30.5) -> (-31.7, -29.5)
  point P0 (0, 0)
  dimension "d199" = 12
  dimension "d200" = 23
  dimension "d203" = 2
  dimension "d204" = 1
  dimension "d205" = 1.5
  dimension "d206" = 2
  dimension "d207" = 1
  dimension "d208" = 1.5
  dimension "d209" = 5
  dimension "d212" = 10
extrude "Extrusion27" cut sketch "Esquisse31" against normal blind 5
sketch "Esquisse32" plane through (0, -25.9715, 15) normal (-1, 0, 0) x (0, 0, 1)
  circle A0 centre (5.6857, -24.4314) radius 2.6 projected
  circle A1 centre (5.6857, -24.4314) radius 2.6
  point P0 (-15, 25.9715)
extrude "Extrusion28" cut sketch "Esquisse32" against normal blind 5
properties part number "palm" material "Plastique ABS"
